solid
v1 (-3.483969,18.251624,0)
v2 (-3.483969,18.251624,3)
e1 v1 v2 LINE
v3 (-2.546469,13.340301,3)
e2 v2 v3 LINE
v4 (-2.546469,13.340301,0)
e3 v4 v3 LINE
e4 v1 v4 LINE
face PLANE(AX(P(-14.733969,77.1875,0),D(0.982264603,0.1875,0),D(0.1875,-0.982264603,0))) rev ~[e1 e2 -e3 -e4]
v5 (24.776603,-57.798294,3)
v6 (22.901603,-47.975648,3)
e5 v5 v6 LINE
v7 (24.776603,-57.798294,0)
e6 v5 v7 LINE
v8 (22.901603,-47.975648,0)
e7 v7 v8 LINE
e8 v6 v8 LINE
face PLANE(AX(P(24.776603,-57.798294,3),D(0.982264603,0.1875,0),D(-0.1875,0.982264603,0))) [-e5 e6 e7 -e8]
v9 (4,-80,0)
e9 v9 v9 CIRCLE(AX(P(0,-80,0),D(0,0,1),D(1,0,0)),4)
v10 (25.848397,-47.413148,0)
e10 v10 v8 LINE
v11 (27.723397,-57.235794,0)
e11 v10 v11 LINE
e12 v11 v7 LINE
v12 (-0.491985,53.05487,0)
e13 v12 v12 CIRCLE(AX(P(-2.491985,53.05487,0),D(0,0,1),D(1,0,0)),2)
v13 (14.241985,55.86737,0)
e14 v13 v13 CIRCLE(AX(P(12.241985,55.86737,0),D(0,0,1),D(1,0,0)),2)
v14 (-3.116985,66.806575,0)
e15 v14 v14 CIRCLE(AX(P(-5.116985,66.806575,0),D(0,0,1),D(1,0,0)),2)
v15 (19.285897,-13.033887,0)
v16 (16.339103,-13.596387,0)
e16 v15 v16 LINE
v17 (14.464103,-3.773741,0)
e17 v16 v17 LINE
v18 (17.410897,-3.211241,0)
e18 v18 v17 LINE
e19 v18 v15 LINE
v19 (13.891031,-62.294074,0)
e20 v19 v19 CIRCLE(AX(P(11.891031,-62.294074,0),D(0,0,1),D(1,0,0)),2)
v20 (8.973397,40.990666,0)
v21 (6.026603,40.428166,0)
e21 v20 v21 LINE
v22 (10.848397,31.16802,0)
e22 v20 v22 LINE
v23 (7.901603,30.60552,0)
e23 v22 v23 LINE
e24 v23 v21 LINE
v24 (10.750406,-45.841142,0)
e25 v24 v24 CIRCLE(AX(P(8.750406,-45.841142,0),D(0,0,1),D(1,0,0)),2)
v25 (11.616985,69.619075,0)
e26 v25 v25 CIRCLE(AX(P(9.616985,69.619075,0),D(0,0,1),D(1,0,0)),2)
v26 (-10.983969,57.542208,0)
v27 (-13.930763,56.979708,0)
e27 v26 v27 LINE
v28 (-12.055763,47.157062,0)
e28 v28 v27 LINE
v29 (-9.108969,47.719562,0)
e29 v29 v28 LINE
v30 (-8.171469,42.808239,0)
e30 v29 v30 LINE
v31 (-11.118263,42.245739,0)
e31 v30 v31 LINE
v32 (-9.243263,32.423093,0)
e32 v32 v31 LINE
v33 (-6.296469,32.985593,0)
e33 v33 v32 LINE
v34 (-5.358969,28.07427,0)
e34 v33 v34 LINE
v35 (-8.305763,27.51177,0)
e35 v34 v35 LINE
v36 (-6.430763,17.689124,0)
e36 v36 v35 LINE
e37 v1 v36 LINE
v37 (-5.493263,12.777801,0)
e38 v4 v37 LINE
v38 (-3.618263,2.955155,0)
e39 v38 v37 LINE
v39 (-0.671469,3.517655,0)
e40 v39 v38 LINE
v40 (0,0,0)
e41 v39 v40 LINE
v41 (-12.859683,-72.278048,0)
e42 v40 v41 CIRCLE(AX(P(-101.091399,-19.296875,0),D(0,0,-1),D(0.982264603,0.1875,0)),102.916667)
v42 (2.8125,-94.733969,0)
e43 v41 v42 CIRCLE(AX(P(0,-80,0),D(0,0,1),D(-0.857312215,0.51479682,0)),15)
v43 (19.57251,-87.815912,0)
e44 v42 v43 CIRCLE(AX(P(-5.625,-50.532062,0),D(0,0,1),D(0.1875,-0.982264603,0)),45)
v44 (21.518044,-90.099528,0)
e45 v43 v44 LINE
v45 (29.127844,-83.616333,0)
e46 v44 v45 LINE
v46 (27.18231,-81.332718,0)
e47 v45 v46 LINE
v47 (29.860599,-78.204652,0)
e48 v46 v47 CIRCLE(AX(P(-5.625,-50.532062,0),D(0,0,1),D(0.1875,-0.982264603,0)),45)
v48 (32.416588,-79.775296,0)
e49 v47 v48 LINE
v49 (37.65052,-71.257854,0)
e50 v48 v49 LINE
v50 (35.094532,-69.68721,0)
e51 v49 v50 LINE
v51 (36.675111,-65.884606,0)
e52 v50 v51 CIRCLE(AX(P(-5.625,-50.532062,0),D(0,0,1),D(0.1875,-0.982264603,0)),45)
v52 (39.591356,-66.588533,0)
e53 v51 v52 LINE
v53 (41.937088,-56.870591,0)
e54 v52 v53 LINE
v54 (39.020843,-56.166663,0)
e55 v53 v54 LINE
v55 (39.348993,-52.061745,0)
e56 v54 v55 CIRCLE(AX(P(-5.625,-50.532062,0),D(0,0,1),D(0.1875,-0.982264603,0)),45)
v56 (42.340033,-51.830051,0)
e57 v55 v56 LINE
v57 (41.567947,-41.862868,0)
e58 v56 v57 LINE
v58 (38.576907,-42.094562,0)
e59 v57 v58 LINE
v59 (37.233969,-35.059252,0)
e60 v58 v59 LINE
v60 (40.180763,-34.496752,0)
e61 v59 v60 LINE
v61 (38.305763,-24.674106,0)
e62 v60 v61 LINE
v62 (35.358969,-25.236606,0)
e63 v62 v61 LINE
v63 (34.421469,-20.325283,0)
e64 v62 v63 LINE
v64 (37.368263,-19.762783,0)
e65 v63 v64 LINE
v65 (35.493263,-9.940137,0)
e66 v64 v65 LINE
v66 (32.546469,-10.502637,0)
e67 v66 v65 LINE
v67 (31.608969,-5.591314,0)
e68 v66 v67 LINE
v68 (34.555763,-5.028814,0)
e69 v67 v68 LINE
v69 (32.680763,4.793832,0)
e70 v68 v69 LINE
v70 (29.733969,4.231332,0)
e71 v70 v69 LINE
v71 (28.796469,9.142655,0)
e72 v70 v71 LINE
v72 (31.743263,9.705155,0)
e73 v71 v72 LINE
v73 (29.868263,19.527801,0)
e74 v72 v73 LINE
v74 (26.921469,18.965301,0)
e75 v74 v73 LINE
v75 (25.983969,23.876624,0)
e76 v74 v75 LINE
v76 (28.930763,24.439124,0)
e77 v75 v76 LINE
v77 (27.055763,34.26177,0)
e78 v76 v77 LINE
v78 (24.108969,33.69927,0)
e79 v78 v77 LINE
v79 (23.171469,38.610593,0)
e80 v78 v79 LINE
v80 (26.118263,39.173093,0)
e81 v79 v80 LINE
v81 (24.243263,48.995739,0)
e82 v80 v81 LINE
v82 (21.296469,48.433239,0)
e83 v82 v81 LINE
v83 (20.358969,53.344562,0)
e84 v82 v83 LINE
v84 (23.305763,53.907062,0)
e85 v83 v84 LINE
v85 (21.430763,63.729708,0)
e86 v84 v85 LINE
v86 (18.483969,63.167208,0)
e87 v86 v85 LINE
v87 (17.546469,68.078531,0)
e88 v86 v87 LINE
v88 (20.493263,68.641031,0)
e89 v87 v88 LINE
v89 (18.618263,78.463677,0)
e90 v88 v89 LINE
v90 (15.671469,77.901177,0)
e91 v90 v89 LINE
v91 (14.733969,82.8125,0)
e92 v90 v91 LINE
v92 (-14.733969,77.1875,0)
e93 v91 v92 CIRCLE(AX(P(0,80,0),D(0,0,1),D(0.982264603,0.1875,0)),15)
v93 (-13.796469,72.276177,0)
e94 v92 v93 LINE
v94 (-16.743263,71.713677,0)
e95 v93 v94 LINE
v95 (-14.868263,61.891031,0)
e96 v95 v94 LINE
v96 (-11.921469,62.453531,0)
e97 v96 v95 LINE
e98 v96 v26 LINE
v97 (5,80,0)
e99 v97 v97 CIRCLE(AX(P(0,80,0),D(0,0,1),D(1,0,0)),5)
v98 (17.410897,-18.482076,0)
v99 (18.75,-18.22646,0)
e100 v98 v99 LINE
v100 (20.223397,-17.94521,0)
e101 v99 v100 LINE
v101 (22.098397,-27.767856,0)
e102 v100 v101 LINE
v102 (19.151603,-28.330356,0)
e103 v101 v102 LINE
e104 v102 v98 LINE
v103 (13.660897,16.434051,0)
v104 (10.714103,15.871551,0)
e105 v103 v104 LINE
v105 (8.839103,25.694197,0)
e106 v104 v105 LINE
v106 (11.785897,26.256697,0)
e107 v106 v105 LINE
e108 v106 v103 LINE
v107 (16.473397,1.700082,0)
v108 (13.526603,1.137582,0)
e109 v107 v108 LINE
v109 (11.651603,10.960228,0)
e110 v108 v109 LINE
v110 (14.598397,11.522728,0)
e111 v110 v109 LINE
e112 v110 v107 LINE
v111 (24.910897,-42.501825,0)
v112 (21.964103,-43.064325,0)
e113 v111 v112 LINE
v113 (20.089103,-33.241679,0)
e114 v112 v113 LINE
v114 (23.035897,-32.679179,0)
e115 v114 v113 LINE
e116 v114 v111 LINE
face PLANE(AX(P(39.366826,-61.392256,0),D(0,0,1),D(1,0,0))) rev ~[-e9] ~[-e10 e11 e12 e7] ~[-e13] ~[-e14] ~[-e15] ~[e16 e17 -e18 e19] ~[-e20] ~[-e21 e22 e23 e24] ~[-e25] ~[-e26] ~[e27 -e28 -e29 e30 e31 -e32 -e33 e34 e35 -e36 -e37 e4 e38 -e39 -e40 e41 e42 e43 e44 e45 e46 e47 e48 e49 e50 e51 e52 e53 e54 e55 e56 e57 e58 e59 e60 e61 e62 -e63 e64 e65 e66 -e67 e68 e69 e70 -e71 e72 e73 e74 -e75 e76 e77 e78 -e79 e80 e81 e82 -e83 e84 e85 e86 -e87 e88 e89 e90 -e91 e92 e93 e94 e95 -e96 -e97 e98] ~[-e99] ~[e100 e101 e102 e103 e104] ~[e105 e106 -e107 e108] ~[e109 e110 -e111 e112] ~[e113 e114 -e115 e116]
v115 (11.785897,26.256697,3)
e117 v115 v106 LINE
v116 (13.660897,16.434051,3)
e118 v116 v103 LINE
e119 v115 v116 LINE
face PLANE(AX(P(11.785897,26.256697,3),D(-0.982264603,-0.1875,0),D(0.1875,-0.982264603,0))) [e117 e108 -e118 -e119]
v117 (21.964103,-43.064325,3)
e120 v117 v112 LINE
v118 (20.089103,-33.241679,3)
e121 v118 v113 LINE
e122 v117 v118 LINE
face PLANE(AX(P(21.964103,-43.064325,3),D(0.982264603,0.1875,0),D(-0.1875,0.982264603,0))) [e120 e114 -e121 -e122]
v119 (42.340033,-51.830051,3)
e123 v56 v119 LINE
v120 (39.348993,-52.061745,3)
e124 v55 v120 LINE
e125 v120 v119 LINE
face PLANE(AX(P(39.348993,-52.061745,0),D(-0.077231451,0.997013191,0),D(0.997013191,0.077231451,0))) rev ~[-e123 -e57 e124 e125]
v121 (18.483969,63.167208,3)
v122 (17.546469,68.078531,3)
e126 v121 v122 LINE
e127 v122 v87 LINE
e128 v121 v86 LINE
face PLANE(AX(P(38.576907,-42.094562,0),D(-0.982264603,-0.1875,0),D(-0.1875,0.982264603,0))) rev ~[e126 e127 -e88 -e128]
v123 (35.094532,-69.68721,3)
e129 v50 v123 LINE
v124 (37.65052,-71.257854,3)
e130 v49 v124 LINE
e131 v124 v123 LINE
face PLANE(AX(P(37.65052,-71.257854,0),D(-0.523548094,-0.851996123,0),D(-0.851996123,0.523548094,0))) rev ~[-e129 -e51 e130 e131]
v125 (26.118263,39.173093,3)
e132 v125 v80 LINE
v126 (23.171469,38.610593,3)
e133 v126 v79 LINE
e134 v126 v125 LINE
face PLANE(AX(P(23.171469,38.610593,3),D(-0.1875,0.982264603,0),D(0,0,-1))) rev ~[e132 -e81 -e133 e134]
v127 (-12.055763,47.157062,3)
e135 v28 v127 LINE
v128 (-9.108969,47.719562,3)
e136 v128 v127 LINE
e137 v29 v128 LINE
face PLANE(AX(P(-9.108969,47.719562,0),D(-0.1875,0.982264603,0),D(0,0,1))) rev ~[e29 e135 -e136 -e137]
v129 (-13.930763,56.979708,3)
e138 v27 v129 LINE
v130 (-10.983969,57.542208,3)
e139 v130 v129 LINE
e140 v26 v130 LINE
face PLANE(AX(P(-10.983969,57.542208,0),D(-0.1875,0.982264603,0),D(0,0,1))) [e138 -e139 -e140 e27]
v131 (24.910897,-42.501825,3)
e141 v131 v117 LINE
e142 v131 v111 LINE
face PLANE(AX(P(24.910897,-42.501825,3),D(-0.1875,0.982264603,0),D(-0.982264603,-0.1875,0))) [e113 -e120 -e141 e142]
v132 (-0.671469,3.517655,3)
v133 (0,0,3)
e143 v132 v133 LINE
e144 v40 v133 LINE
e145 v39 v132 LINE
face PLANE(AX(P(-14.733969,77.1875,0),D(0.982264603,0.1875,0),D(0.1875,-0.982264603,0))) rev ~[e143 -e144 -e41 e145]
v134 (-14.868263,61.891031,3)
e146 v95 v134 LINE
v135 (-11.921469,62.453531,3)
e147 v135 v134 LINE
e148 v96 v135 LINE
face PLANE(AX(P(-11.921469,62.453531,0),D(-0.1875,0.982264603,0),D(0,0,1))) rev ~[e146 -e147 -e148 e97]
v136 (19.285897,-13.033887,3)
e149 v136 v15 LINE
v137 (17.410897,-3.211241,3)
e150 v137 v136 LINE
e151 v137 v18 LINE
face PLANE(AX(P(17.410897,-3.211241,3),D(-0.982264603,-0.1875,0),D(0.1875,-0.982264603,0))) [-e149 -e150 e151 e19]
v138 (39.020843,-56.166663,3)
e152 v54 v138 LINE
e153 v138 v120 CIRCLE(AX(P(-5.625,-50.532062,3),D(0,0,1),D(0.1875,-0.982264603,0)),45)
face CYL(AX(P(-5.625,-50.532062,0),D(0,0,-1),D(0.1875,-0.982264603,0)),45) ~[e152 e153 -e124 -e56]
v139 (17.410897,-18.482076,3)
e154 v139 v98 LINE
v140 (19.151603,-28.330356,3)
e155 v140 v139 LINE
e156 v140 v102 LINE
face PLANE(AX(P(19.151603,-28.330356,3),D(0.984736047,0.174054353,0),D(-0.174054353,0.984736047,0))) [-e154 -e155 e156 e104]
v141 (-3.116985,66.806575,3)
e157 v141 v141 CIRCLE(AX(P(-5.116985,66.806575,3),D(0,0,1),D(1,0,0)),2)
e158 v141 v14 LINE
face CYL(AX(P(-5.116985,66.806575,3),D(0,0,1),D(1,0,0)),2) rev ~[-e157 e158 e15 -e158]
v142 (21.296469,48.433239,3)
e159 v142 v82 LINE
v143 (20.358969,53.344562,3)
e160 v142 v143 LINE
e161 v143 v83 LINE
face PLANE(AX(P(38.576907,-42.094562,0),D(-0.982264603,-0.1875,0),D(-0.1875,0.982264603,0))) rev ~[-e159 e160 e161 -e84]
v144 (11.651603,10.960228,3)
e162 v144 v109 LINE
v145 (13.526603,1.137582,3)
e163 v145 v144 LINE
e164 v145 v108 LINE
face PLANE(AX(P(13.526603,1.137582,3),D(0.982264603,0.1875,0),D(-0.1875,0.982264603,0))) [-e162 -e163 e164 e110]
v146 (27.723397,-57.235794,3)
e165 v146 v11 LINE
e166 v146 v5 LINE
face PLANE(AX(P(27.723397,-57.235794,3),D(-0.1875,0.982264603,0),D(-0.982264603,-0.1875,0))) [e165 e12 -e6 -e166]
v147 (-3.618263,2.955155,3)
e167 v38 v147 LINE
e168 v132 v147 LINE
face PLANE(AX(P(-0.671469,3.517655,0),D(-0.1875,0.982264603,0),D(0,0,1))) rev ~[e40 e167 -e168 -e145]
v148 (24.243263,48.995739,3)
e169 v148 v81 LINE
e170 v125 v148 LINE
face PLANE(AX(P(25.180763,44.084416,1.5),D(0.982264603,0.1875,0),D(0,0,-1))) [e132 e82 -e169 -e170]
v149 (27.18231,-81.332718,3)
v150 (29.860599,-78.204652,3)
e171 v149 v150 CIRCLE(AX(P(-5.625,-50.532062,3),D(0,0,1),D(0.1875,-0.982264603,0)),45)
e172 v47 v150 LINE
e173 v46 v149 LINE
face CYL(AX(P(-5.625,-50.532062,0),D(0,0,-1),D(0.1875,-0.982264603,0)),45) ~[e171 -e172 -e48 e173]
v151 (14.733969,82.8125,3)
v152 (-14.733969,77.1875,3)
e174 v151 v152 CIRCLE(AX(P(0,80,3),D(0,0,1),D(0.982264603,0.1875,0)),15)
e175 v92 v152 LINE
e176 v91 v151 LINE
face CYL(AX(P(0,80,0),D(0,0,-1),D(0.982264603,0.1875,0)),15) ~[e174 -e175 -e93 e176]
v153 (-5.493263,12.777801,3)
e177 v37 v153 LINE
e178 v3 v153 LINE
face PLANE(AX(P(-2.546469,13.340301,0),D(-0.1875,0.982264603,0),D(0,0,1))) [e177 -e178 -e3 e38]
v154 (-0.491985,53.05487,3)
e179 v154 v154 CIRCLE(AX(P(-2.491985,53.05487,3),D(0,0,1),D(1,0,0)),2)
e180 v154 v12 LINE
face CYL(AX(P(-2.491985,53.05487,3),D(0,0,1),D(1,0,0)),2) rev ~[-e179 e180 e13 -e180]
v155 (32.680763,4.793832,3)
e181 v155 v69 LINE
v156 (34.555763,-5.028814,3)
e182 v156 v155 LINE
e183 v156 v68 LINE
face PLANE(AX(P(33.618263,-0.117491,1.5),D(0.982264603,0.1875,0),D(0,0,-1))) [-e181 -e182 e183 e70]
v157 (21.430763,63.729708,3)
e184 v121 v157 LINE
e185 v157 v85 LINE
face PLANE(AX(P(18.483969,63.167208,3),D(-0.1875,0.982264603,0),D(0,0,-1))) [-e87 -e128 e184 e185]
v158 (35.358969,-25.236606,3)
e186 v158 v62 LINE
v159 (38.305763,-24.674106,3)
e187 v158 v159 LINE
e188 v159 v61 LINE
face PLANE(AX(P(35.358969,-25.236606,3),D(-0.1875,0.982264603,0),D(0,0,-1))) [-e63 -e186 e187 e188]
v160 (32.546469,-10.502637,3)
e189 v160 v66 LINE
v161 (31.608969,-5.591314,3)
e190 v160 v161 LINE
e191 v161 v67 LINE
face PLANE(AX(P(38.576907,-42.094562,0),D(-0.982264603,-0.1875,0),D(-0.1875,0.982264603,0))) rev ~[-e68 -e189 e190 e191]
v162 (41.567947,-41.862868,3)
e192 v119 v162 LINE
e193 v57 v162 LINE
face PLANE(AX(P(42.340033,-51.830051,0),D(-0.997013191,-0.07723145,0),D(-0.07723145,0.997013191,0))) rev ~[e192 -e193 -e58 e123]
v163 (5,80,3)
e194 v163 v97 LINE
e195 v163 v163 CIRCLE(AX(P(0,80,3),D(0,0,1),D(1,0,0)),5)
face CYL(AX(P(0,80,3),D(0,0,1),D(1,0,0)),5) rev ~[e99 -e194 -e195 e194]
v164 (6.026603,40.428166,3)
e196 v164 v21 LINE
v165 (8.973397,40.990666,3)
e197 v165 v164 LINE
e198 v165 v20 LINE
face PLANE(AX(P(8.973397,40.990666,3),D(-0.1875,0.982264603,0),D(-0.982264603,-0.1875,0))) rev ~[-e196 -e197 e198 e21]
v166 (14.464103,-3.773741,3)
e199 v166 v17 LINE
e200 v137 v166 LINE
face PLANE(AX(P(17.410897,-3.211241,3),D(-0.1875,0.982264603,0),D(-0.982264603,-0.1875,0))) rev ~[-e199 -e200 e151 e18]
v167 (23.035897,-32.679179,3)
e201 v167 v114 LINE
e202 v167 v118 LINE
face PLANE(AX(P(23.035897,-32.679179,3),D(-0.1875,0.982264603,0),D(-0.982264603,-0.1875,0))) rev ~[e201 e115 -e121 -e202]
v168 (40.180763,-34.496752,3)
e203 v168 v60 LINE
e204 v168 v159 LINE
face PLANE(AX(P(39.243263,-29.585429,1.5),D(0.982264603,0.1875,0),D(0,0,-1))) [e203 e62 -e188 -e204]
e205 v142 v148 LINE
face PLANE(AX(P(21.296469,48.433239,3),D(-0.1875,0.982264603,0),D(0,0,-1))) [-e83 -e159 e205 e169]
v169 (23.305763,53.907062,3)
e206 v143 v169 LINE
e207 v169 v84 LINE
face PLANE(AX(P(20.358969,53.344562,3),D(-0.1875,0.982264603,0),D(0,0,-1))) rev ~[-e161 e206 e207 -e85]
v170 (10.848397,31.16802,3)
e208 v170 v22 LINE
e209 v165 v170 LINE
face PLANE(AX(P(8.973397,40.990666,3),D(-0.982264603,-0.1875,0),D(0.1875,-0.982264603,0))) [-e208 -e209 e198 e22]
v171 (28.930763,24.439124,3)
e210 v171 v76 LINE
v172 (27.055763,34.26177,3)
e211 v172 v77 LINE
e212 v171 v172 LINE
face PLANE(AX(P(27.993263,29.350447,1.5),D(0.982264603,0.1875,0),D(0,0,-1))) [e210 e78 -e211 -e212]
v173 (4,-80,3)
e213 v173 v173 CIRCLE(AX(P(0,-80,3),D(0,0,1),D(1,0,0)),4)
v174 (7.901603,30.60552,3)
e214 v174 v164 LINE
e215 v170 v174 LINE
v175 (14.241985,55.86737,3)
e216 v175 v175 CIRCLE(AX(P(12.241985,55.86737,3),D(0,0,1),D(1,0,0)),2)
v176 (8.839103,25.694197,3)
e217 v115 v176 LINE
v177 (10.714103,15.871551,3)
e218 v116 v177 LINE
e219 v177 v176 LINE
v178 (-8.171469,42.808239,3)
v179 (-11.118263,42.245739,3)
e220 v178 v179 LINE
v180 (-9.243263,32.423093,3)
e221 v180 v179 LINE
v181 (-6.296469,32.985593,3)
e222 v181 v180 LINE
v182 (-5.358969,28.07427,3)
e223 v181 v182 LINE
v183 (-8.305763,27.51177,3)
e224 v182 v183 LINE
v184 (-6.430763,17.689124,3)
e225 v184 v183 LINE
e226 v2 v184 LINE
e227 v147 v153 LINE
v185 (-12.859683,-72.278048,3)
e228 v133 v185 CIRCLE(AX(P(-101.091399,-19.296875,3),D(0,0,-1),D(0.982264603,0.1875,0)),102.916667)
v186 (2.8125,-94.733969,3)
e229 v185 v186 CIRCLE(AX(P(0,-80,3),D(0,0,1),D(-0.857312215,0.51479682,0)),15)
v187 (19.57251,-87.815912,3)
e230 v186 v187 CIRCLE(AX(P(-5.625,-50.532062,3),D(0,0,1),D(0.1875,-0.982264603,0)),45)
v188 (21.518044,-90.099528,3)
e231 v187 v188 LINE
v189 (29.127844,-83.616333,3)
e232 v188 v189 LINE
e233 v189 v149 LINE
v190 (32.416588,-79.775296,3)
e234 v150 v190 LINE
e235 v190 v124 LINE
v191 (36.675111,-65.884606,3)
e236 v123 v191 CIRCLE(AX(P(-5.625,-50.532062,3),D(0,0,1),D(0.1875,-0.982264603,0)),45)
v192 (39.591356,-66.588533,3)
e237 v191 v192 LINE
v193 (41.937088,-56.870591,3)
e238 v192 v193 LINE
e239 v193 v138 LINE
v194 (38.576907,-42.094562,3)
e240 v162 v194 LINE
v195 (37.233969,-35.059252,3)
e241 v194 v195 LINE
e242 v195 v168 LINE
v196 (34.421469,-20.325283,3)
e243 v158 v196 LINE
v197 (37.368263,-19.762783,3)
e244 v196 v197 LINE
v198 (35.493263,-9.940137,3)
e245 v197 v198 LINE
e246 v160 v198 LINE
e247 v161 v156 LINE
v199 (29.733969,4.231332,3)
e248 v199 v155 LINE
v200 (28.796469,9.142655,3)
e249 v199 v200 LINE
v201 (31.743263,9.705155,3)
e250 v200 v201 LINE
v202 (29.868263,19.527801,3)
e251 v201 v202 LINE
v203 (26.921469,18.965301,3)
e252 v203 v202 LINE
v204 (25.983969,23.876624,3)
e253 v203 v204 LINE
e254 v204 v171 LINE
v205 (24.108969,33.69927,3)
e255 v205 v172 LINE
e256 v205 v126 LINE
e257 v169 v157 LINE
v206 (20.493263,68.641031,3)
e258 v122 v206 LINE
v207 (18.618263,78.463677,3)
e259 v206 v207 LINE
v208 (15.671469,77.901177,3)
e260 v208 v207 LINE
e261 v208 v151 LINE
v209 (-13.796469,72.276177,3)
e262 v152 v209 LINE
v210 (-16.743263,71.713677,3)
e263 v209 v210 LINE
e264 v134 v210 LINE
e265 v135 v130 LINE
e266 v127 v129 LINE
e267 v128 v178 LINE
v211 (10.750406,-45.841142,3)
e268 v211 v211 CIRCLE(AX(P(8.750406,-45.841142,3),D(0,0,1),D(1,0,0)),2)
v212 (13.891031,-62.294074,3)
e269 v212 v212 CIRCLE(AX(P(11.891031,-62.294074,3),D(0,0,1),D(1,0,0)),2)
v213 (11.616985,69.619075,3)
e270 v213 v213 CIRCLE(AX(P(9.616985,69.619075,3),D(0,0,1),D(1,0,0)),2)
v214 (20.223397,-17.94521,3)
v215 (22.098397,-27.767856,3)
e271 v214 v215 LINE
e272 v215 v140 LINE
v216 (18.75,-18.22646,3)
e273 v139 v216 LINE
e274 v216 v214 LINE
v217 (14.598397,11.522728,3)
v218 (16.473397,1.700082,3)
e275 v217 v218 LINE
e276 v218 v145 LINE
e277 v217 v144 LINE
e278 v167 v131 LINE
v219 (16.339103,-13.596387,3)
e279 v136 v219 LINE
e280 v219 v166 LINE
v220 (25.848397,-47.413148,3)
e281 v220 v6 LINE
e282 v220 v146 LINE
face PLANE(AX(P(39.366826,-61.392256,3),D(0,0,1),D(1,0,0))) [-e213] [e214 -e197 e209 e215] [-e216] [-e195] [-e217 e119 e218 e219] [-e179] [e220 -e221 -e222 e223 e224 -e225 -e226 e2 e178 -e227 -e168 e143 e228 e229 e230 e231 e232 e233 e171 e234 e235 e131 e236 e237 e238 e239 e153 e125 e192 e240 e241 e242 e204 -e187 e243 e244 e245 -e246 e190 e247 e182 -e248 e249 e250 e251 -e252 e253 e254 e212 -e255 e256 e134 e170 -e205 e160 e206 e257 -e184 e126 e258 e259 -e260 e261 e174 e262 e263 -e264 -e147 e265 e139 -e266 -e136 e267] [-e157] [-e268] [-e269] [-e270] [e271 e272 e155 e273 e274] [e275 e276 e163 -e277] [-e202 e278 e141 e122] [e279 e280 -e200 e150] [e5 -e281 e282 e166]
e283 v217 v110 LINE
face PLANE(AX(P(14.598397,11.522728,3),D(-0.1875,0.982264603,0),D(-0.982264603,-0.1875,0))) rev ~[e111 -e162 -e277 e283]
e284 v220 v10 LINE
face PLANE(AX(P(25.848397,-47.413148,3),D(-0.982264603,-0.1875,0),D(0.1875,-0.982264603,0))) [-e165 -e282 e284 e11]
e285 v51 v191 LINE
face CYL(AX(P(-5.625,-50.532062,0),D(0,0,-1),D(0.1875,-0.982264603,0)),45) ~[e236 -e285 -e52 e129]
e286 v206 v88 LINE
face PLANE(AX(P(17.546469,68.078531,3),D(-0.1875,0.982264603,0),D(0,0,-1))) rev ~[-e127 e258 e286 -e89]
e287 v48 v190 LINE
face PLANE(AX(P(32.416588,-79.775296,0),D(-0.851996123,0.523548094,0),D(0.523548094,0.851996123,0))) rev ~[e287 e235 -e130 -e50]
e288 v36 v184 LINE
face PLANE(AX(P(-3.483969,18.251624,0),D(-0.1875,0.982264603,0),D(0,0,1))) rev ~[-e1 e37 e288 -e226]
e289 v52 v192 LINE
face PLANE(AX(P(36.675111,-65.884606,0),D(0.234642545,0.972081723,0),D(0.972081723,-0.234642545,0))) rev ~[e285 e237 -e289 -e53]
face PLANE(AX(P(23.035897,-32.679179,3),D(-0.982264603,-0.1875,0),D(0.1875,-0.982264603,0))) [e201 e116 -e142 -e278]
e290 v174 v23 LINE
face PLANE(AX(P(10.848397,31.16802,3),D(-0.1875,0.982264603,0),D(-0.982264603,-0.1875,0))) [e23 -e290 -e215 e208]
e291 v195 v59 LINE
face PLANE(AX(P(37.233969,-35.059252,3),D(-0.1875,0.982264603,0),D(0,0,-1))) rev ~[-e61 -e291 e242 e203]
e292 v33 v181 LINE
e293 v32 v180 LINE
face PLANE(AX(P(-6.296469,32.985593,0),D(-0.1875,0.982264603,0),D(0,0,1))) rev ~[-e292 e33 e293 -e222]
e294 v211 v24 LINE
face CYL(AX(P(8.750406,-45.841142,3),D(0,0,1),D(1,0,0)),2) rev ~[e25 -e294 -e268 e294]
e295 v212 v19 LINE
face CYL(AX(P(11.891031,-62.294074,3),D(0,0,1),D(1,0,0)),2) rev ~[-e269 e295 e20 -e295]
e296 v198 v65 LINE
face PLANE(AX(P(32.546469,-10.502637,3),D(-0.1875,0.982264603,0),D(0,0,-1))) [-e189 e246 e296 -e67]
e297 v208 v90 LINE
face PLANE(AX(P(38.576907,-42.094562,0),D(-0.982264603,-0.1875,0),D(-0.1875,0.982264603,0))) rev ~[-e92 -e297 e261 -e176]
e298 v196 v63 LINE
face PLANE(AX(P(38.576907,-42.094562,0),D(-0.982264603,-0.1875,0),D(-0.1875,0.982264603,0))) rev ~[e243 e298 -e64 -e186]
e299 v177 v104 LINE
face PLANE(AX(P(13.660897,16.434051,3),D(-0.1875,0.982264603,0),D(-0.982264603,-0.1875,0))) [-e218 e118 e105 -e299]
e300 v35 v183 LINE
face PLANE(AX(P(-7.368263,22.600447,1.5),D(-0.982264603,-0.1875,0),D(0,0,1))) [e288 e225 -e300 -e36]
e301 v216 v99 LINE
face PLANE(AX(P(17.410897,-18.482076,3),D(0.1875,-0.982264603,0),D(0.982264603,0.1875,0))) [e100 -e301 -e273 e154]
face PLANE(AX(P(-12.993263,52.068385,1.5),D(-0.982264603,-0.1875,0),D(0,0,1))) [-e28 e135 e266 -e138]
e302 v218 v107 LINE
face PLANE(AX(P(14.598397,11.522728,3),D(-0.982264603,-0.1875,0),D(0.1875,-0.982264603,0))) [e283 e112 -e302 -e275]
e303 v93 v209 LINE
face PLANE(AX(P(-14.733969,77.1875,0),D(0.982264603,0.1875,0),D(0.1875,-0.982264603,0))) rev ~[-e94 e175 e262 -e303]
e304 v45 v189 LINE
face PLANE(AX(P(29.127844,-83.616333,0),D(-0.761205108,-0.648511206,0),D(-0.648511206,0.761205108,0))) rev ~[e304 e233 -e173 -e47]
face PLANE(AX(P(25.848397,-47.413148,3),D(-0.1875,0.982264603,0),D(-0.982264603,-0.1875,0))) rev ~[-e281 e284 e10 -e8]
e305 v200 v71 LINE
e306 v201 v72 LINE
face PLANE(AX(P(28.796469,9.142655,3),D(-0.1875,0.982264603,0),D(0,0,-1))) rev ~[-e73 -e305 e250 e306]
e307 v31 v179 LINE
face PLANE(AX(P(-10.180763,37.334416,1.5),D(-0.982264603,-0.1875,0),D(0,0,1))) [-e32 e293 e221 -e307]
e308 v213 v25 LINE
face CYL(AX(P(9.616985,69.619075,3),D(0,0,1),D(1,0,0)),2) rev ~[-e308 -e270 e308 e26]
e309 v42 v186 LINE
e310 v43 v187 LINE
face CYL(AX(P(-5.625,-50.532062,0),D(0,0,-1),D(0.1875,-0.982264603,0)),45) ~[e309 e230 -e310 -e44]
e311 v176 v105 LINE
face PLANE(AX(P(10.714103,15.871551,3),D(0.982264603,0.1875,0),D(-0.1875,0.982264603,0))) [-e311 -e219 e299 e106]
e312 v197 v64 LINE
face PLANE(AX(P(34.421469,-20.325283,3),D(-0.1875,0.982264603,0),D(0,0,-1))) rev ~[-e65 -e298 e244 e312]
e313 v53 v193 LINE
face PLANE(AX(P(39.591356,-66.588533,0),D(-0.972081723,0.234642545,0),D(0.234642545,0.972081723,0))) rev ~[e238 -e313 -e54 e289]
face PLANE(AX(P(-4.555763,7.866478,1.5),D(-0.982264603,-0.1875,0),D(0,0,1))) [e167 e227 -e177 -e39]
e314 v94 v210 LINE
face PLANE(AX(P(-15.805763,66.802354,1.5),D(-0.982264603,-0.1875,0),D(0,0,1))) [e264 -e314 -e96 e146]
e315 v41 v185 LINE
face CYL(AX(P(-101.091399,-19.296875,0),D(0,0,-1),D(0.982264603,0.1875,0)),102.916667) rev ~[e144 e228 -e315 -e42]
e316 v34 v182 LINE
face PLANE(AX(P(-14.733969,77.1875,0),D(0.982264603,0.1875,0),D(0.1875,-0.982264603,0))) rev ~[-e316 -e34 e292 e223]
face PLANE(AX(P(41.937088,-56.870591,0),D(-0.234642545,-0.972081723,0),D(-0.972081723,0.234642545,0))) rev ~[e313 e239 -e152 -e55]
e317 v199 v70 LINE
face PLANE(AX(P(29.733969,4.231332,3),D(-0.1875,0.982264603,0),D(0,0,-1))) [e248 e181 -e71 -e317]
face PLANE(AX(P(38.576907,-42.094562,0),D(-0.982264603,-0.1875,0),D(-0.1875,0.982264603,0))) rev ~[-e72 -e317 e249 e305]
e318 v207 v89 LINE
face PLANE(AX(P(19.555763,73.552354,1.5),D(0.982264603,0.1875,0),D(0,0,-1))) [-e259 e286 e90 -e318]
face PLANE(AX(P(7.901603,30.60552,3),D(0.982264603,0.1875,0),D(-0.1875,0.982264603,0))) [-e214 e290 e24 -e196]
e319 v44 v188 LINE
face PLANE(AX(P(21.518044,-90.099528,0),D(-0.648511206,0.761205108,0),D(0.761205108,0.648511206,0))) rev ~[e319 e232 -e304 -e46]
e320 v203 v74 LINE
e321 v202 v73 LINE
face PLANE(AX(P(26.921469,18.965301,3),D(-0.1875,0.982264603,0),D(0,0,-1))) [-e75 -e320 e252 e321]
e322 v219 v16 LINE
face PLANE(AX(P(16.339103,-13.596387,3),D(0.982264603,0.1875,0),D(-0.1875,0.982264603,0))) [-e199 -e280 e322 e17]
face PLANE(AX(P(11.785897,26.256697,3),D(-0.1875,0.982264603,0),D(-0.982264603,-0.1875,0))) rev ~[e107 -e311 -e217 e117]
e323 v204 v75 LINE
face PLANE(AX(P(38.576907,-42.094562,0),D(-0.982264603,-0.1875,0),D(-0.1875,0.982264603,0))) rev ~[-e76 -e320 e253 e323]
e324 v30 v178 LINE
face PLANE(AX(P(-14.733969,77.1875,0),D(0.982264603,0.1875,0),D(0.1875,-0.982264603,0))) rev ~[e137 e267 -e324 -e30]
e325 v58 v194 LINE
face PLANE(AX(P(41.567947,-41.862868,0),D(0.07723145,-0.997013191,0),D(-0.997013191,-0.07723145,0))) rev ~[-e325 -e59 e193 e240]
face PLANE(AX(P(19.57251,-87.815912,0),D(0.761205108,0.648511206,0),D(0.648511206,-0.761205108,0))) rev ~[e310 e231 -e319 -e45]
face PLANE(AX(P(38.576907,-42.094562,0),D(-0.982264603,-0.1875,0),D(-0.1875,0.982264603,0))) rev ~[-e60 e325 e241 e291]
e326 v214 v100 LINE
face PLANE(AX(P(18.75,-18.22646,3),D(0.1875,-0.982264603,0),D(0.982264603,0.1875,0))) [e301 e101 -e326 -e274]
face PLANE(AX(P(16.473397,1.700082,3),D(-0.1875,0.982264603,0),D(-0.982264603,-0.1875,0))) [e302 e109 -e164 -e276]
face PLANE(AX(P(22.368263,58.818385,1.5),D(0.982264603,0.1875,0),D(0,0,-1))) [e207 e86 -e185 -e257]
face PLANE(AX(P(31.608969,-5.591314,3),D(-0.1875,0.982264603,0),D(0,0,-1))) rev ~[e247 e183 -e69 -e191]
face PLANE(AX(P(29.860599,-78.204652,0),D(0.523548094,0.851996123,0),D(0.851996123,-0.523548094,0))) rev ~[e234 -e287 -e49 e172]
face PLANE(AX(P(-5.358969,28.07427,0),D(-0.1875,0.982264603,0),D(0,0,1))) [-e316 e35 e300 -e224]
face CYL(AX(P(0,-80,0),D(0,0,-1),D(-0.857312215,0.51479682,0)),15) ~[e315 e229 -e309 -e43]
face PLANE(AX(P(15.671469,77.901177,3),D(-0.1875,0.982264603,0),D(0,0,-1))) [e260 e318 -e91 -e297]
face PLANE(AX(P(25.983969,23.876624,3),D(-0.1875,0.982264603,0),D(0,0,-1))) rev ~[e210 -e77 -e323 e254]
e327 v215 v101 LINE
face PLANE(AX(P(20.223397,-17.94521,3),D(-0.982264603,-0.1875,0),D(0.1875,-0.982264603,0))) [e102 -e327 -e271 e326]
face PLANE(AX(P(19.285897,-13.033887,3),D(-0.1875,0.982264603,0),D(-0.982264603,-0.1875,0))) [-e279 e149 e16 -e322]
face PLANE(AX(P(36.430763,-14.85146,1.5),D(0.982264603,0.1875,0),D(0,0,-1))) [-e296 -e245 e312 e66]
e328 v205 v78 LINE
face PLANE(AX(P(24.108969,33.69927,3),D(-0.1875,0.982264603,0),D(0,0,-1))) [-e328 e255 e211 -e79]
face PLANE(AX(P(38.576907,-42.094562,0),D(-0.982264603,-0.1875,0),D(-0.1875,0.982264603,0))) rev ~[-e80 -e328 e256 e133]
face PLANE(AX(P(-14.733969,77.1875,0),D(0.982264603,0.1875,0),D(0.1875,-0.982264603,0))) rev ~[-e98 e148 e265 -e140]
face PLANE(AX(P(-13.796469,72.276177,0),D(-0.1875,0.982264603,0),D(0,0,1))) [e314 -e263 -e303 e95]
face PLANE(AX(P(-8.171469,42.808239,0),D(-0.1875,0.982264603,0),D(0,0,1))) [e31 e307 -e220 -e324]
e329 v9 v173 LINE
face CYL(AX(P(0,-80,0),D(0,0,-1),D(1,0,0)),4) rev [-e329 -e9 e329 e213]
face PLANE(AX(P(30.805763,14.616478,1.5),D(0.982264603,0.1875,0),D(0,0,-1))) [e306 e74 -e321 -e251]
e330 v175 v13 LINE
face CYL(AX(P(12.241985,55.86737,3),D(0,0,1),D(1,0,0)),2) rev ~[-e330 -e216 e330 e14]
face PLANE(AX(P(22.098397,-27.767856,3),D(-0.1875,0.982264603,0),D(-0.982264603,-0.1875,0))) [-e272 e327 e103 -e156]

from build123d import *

# Parameters (mm, degrees)
SKETCH_1_R          = 4
EXTRUDE_1_DEPTH     = 3
SKETCH_3_W          = 3
SKETCH_3_H          = 10
EXTRUDE_2_DEPTH     = 3
EXTRUDE_START       = -3
EXTRUDE_3_DEPTH     = 3
SKETCH_6_W          = 3
SKETCH_6_H          = 10
EXTRUDE_4_DEPTH     = 3
SKETCH_9_R          = 2
CUT_EXTRUDE_1_DEPTH = 3
CUT_EXTRUDE_2_DEPTH = 3
SKETCH_11_R         = 2
CUT_EXTRUDE_3_DEPTH = 10
SKETCH_12_R         = 5
CUT_EXTRUDE_4_DEPTH = 10


with BuildPart() as part:
    # 草图1 → 凸台-拉伸1 (new body)
    with BuildSketch(Plane.XY):
        with BuildLine():
            Line((-14.733969043, 77.1875), (0, 0))
            ThreePointArc((0, 0), (0.234014868, -37.324654706), (-12.859683228, -72.278047703))
            ThreePointArc((-12.859683228, -72.278047703), (-12.300551756, -88.584662282), (2.8125, -94.733969043))
            ThreePointArc((2.8125, -94.733969043), (31.596681738, -75.82131672), (38.576907128, -42.094561915))
            Line((38.576907128, -42.094561915), (14.733969043, 82.8125))
            ThreePointArc((14.733969043, 82.8125), (-2.8125, 94.733969043), (-14.733969043, 77.1875))
        make_face()
        with Locations((0, 80)):
            Circle(SKETCH_1_R, mode=Mode.SUBTRACT)
        with Locations((0, -80)):
            Circle(SKETCH_1_R, mode=Mode.SUBTRACT)
    extrude(amount=EXTRUDE_1_DEPTH)

    # 草图3 → 凸台-拉伸2 (add)
    with BuildSketch(Plane(origin=(29.467938085, 5.625, 0), x_dir=(0, 0, -1), z_dir=(0.9822646028438571, 0.18749999999999992, 0))):
        with Locations((-1.5, 68.581168228)):
            Rectangle(SKETCH_3_W, SKETCH_3_H)
        with Locations((-1.5, 53.581168228)):
            Rectangle(SKETCH_3_W, SKETCH_3_H)
        with Locations((-1.5, 38.581168228)):
            Rectangle(SKETCH_3_W, SKETCH_3_H)
        with Locations((-1.5, 23.581168228)):
            Rectangle(SKETCH_3_W, SKETCH_3_H)
        with Locations((-1.5, 8.581168228)):
            Rectangle(SKETCH_3_W, SKETCH_3_H)
        with Locations((-1.5, -6.418831772)):
            Rectangle(SKETCH_3_W, SKETCH_3_H)
        with Locations((-1.5, -21.418831772)):
            Rectangle(SKETCH_3_W, SKETCH_3_H)
        with Locations((-1.5, -36.418831772)):
            Rectangle(SKETCH_3_W, SKETCH_3_H)
    extrude(amount=EXTRUDE_2_DEPTH)

    # 草图5 → 凸台-拉伸3 (add)
    with BuildSketch(Plane.XY.offset(3).offset(EXTRUDE_START)):
        with BuildLine():
            Line((41.937087865, -56.870590681), (39.020842697, -56.166663045))
            ThreePointArc((39.020842697, -56.166663045), (38.118677527, -61.090976463), (36.675111125, -65.884605639))
            Line((36.675111125, -65.884605639), (39.591356294, -66.588533275))
            Line((39.591356294, -66.588533275), (41.937087865, -56.870590681))
        make_face()
        with BuildLine():
            ThreePointArc((36.675111125, -65.884605639), (38.118677527, -61.090976463), (39.020842697, -56.166663045))
            Line((39.020842697, -56.166663045), (31.045751878, -56.518626863))
            Line((31.045751878, -56.518626863), (36.675111125, -65.884605639))
        make_face()
        with BuildLine():
            Line((35.852417991, -52.061745464), (39.348993243, -52.061745464))
            ThreePointArc((39.348993243, -52.061745464), (39.240593596, -47.056646648), (38.576907128, -42.094561915))
            Line((38.576907128, -42.094561915), (35.852417991, -52.061745464))
        make_face()
        with BuildLine():
            ThreePointArc((38.576907128, -42.094561915), (39.240593596, -47.056646648), (39.348993243, -52.061745464))
            Line((39.348993243, -52.061745464), (42.340032816, -51.830051112))
            Line((42.340032816, -51.830051112), (41.567946701, -41.862867564))
            Line((41.567946701, -41.862867564), (38.576907128, -42.094561915))
        make_face()
        with BuildLine():
            ThreePointArc((29.860599408, -78.204651867), (32.714825521, -74.091726153), (35.094532117, -69.687210158))
            Line((35.094532117, -69.687210158), (30.758010447, -62.472220292))
            Line((30.758010447, -62.472220292), (29.860599408, -78.204651867))
        make_face()
        with BuildLine():
            Line((37.650520485, -71.25785444), (35.094532117, -69.687210158))
            ThreePointArc((35.094532117, -69.687210158), (32.714825521, -74.091726153), (29.860599408, -78.204651867))
            Line((29.860599408, -78.204651867), (32.416587776, -79.775296149))
            Line((32.416587776, -79.775296149), (37.650520485, -71.25785444))
        make_face()
        with BuildLine():
            ThreePointArc((19.572509978, -87.815912184), (23.558004264, -84.786291758), (27.182310023, -81.332717899))
            Line((27.182310023, -81.332717899), (19.572509978, -65.497664614))
            Line((19.572509978, -65.497664614), (19.572509978, -87.815912184))
        make_face()
        with BuildLine():
            Line((29.127843641, -83.616333222), (27.182310023, -81.332717899))
            ThreePointArc((27.182310023, -81.332717899), (23.558004264, -84.786291758), (19.572509978, -87.815912184))
            Line((19.572509978, -87.815912184), (21.518043596, -90.099527507))
            Line((21.518043596, -90.099527507), (29.127843641, -83.616333222))
        make_face()
    extrude(amount=EXTRUDE_3_DEPTH)

    # 草图6 → 凸台-拉伸4 (add)
    with BuildSketch(Plane(origin=(0, 0, 0), x_dir=(0, 0, 1), z_dir=(-0.9822646028438571, -0.18749999999999994, 0))):
        with Locations((1.5, 68.581168228)):
            Rectangle(SKETCH_6_W, SKETCH_6_H)
        with Locations((1.5, 53.581168228)):
            Rectangle(SKETCH_6_W, SKETCH_6_H)
        with Locations((1.5, 38.581168228)):
            Rectangle(SKETCH_6_W, SKETCH_6_H)
        with Locations((1.5, 23.581168228)):
            Rectangle(SKETCH_6_W, SKETCH_6_H)
        with Locations((1.5, 8.581168228)):
            Rectangle(SKETCH_6_W, SKETCH_6_H)
    extrude(amount=EXTRUDE_4_DEPTH)

    # 草图9 → 切除-拉伸1 (cut)
    with BuildSketch(Plane.XY.offset(3)):
        with Locations((11.891030957, -62.294073604)):
            Circle(SKETCH_9_R)
        with Locations((8.750405957, -45.841141506)):
            Circle(SKETCH_9_R)
    extrude(amount=-CUT_EXTRUDE_1_DEPTH, mode=Mode.SUBTRACT)

    # 草图10 → 切除-拉伸2 (cut)
    with BuildSketch(Plane.XY.offset(3)):
        Polygon((7.5, 40.709415886), (8.973396904, 40.990665886), (10.848396904, 31.168019858), (7.901603096, 30.605519858), (6.026603096, 40.428165886), align=None)
        Polygon((10.3125, 25.975446844), (11.785896904, 26.256696844), (13.660896904, 16.434050815), (10.714103096, 15.871550815), (8.839103096, 25.694196844), align=None)
        Polygon((13.125, 11.241477801), (14.598396904, 11.522727801), (16.473396904, 1.700081772), (13.526603096, 1.137581772), (11.651603096, 10.960227801), align=None)
        Polygon((15.9375, -3.492491242), (17.410896904, -3.211241242), (19.285896904, -13.03388727), (16.339103096, -13.59638727), (14.464103096, -3.773741242), align=None)
        Polygon((18.75, -18.226460284), (20.223396904, -17.945210284), (22.098396904, -27.767856313), (19.151603096, -28.330356313), (17.410896904, -18.482075553), align=None)
        Polygon((21.5625, -32.960429327), (23.035896904, -32.679179327), (24.910896904, -42.501825355), (21.964103096, -43.064325355), (20.089103096, -33.241679327), align=None)
        Polygon((24.375, -47.69439837), (25.848396904, -47.41314837), (27.723396904, -57.235794398), (24.776603096, -57.798294398), (22.901603096, -47.97564837), align=None)
    extrude(amount=-CUT_EXTRUDE_2_DEPTH, mode=Mode.SUBTRACT)

    # 草图11 → 切除-拉伸3 (cut)
    with BuildSketch(Plane.XY.offset(3)):
        with Locations((9.616984521, 69.619074766)):
            Circle(SKETCH_11_R)
        with Locations((12.241984521, 55.867370326)):
            Circle(SKETCH_11_R)
        with Locations((-5.116984521, 66.806574766)):
            Circle(SKETCH_11_R)
        with Locations((-2.491984521, 53.054870326)):
            Circle(SKETCH_11_R)
    extrude(amount=-CUT_EXTRUDE_3_DEPTH, mode=Mode.SUBTRACT)

    # 草图12 → 切除-拉伸4 (cut)
    with BuildSketch(Plane.XY.offset(3)):
        with Locations((0, 80)):
            Circle(SKETCH_12_R)
    extrude(amount=-CUT_EXTRUDE_4_DEPTH, mode=Mode.SUBTRACT)


solid = part.part
